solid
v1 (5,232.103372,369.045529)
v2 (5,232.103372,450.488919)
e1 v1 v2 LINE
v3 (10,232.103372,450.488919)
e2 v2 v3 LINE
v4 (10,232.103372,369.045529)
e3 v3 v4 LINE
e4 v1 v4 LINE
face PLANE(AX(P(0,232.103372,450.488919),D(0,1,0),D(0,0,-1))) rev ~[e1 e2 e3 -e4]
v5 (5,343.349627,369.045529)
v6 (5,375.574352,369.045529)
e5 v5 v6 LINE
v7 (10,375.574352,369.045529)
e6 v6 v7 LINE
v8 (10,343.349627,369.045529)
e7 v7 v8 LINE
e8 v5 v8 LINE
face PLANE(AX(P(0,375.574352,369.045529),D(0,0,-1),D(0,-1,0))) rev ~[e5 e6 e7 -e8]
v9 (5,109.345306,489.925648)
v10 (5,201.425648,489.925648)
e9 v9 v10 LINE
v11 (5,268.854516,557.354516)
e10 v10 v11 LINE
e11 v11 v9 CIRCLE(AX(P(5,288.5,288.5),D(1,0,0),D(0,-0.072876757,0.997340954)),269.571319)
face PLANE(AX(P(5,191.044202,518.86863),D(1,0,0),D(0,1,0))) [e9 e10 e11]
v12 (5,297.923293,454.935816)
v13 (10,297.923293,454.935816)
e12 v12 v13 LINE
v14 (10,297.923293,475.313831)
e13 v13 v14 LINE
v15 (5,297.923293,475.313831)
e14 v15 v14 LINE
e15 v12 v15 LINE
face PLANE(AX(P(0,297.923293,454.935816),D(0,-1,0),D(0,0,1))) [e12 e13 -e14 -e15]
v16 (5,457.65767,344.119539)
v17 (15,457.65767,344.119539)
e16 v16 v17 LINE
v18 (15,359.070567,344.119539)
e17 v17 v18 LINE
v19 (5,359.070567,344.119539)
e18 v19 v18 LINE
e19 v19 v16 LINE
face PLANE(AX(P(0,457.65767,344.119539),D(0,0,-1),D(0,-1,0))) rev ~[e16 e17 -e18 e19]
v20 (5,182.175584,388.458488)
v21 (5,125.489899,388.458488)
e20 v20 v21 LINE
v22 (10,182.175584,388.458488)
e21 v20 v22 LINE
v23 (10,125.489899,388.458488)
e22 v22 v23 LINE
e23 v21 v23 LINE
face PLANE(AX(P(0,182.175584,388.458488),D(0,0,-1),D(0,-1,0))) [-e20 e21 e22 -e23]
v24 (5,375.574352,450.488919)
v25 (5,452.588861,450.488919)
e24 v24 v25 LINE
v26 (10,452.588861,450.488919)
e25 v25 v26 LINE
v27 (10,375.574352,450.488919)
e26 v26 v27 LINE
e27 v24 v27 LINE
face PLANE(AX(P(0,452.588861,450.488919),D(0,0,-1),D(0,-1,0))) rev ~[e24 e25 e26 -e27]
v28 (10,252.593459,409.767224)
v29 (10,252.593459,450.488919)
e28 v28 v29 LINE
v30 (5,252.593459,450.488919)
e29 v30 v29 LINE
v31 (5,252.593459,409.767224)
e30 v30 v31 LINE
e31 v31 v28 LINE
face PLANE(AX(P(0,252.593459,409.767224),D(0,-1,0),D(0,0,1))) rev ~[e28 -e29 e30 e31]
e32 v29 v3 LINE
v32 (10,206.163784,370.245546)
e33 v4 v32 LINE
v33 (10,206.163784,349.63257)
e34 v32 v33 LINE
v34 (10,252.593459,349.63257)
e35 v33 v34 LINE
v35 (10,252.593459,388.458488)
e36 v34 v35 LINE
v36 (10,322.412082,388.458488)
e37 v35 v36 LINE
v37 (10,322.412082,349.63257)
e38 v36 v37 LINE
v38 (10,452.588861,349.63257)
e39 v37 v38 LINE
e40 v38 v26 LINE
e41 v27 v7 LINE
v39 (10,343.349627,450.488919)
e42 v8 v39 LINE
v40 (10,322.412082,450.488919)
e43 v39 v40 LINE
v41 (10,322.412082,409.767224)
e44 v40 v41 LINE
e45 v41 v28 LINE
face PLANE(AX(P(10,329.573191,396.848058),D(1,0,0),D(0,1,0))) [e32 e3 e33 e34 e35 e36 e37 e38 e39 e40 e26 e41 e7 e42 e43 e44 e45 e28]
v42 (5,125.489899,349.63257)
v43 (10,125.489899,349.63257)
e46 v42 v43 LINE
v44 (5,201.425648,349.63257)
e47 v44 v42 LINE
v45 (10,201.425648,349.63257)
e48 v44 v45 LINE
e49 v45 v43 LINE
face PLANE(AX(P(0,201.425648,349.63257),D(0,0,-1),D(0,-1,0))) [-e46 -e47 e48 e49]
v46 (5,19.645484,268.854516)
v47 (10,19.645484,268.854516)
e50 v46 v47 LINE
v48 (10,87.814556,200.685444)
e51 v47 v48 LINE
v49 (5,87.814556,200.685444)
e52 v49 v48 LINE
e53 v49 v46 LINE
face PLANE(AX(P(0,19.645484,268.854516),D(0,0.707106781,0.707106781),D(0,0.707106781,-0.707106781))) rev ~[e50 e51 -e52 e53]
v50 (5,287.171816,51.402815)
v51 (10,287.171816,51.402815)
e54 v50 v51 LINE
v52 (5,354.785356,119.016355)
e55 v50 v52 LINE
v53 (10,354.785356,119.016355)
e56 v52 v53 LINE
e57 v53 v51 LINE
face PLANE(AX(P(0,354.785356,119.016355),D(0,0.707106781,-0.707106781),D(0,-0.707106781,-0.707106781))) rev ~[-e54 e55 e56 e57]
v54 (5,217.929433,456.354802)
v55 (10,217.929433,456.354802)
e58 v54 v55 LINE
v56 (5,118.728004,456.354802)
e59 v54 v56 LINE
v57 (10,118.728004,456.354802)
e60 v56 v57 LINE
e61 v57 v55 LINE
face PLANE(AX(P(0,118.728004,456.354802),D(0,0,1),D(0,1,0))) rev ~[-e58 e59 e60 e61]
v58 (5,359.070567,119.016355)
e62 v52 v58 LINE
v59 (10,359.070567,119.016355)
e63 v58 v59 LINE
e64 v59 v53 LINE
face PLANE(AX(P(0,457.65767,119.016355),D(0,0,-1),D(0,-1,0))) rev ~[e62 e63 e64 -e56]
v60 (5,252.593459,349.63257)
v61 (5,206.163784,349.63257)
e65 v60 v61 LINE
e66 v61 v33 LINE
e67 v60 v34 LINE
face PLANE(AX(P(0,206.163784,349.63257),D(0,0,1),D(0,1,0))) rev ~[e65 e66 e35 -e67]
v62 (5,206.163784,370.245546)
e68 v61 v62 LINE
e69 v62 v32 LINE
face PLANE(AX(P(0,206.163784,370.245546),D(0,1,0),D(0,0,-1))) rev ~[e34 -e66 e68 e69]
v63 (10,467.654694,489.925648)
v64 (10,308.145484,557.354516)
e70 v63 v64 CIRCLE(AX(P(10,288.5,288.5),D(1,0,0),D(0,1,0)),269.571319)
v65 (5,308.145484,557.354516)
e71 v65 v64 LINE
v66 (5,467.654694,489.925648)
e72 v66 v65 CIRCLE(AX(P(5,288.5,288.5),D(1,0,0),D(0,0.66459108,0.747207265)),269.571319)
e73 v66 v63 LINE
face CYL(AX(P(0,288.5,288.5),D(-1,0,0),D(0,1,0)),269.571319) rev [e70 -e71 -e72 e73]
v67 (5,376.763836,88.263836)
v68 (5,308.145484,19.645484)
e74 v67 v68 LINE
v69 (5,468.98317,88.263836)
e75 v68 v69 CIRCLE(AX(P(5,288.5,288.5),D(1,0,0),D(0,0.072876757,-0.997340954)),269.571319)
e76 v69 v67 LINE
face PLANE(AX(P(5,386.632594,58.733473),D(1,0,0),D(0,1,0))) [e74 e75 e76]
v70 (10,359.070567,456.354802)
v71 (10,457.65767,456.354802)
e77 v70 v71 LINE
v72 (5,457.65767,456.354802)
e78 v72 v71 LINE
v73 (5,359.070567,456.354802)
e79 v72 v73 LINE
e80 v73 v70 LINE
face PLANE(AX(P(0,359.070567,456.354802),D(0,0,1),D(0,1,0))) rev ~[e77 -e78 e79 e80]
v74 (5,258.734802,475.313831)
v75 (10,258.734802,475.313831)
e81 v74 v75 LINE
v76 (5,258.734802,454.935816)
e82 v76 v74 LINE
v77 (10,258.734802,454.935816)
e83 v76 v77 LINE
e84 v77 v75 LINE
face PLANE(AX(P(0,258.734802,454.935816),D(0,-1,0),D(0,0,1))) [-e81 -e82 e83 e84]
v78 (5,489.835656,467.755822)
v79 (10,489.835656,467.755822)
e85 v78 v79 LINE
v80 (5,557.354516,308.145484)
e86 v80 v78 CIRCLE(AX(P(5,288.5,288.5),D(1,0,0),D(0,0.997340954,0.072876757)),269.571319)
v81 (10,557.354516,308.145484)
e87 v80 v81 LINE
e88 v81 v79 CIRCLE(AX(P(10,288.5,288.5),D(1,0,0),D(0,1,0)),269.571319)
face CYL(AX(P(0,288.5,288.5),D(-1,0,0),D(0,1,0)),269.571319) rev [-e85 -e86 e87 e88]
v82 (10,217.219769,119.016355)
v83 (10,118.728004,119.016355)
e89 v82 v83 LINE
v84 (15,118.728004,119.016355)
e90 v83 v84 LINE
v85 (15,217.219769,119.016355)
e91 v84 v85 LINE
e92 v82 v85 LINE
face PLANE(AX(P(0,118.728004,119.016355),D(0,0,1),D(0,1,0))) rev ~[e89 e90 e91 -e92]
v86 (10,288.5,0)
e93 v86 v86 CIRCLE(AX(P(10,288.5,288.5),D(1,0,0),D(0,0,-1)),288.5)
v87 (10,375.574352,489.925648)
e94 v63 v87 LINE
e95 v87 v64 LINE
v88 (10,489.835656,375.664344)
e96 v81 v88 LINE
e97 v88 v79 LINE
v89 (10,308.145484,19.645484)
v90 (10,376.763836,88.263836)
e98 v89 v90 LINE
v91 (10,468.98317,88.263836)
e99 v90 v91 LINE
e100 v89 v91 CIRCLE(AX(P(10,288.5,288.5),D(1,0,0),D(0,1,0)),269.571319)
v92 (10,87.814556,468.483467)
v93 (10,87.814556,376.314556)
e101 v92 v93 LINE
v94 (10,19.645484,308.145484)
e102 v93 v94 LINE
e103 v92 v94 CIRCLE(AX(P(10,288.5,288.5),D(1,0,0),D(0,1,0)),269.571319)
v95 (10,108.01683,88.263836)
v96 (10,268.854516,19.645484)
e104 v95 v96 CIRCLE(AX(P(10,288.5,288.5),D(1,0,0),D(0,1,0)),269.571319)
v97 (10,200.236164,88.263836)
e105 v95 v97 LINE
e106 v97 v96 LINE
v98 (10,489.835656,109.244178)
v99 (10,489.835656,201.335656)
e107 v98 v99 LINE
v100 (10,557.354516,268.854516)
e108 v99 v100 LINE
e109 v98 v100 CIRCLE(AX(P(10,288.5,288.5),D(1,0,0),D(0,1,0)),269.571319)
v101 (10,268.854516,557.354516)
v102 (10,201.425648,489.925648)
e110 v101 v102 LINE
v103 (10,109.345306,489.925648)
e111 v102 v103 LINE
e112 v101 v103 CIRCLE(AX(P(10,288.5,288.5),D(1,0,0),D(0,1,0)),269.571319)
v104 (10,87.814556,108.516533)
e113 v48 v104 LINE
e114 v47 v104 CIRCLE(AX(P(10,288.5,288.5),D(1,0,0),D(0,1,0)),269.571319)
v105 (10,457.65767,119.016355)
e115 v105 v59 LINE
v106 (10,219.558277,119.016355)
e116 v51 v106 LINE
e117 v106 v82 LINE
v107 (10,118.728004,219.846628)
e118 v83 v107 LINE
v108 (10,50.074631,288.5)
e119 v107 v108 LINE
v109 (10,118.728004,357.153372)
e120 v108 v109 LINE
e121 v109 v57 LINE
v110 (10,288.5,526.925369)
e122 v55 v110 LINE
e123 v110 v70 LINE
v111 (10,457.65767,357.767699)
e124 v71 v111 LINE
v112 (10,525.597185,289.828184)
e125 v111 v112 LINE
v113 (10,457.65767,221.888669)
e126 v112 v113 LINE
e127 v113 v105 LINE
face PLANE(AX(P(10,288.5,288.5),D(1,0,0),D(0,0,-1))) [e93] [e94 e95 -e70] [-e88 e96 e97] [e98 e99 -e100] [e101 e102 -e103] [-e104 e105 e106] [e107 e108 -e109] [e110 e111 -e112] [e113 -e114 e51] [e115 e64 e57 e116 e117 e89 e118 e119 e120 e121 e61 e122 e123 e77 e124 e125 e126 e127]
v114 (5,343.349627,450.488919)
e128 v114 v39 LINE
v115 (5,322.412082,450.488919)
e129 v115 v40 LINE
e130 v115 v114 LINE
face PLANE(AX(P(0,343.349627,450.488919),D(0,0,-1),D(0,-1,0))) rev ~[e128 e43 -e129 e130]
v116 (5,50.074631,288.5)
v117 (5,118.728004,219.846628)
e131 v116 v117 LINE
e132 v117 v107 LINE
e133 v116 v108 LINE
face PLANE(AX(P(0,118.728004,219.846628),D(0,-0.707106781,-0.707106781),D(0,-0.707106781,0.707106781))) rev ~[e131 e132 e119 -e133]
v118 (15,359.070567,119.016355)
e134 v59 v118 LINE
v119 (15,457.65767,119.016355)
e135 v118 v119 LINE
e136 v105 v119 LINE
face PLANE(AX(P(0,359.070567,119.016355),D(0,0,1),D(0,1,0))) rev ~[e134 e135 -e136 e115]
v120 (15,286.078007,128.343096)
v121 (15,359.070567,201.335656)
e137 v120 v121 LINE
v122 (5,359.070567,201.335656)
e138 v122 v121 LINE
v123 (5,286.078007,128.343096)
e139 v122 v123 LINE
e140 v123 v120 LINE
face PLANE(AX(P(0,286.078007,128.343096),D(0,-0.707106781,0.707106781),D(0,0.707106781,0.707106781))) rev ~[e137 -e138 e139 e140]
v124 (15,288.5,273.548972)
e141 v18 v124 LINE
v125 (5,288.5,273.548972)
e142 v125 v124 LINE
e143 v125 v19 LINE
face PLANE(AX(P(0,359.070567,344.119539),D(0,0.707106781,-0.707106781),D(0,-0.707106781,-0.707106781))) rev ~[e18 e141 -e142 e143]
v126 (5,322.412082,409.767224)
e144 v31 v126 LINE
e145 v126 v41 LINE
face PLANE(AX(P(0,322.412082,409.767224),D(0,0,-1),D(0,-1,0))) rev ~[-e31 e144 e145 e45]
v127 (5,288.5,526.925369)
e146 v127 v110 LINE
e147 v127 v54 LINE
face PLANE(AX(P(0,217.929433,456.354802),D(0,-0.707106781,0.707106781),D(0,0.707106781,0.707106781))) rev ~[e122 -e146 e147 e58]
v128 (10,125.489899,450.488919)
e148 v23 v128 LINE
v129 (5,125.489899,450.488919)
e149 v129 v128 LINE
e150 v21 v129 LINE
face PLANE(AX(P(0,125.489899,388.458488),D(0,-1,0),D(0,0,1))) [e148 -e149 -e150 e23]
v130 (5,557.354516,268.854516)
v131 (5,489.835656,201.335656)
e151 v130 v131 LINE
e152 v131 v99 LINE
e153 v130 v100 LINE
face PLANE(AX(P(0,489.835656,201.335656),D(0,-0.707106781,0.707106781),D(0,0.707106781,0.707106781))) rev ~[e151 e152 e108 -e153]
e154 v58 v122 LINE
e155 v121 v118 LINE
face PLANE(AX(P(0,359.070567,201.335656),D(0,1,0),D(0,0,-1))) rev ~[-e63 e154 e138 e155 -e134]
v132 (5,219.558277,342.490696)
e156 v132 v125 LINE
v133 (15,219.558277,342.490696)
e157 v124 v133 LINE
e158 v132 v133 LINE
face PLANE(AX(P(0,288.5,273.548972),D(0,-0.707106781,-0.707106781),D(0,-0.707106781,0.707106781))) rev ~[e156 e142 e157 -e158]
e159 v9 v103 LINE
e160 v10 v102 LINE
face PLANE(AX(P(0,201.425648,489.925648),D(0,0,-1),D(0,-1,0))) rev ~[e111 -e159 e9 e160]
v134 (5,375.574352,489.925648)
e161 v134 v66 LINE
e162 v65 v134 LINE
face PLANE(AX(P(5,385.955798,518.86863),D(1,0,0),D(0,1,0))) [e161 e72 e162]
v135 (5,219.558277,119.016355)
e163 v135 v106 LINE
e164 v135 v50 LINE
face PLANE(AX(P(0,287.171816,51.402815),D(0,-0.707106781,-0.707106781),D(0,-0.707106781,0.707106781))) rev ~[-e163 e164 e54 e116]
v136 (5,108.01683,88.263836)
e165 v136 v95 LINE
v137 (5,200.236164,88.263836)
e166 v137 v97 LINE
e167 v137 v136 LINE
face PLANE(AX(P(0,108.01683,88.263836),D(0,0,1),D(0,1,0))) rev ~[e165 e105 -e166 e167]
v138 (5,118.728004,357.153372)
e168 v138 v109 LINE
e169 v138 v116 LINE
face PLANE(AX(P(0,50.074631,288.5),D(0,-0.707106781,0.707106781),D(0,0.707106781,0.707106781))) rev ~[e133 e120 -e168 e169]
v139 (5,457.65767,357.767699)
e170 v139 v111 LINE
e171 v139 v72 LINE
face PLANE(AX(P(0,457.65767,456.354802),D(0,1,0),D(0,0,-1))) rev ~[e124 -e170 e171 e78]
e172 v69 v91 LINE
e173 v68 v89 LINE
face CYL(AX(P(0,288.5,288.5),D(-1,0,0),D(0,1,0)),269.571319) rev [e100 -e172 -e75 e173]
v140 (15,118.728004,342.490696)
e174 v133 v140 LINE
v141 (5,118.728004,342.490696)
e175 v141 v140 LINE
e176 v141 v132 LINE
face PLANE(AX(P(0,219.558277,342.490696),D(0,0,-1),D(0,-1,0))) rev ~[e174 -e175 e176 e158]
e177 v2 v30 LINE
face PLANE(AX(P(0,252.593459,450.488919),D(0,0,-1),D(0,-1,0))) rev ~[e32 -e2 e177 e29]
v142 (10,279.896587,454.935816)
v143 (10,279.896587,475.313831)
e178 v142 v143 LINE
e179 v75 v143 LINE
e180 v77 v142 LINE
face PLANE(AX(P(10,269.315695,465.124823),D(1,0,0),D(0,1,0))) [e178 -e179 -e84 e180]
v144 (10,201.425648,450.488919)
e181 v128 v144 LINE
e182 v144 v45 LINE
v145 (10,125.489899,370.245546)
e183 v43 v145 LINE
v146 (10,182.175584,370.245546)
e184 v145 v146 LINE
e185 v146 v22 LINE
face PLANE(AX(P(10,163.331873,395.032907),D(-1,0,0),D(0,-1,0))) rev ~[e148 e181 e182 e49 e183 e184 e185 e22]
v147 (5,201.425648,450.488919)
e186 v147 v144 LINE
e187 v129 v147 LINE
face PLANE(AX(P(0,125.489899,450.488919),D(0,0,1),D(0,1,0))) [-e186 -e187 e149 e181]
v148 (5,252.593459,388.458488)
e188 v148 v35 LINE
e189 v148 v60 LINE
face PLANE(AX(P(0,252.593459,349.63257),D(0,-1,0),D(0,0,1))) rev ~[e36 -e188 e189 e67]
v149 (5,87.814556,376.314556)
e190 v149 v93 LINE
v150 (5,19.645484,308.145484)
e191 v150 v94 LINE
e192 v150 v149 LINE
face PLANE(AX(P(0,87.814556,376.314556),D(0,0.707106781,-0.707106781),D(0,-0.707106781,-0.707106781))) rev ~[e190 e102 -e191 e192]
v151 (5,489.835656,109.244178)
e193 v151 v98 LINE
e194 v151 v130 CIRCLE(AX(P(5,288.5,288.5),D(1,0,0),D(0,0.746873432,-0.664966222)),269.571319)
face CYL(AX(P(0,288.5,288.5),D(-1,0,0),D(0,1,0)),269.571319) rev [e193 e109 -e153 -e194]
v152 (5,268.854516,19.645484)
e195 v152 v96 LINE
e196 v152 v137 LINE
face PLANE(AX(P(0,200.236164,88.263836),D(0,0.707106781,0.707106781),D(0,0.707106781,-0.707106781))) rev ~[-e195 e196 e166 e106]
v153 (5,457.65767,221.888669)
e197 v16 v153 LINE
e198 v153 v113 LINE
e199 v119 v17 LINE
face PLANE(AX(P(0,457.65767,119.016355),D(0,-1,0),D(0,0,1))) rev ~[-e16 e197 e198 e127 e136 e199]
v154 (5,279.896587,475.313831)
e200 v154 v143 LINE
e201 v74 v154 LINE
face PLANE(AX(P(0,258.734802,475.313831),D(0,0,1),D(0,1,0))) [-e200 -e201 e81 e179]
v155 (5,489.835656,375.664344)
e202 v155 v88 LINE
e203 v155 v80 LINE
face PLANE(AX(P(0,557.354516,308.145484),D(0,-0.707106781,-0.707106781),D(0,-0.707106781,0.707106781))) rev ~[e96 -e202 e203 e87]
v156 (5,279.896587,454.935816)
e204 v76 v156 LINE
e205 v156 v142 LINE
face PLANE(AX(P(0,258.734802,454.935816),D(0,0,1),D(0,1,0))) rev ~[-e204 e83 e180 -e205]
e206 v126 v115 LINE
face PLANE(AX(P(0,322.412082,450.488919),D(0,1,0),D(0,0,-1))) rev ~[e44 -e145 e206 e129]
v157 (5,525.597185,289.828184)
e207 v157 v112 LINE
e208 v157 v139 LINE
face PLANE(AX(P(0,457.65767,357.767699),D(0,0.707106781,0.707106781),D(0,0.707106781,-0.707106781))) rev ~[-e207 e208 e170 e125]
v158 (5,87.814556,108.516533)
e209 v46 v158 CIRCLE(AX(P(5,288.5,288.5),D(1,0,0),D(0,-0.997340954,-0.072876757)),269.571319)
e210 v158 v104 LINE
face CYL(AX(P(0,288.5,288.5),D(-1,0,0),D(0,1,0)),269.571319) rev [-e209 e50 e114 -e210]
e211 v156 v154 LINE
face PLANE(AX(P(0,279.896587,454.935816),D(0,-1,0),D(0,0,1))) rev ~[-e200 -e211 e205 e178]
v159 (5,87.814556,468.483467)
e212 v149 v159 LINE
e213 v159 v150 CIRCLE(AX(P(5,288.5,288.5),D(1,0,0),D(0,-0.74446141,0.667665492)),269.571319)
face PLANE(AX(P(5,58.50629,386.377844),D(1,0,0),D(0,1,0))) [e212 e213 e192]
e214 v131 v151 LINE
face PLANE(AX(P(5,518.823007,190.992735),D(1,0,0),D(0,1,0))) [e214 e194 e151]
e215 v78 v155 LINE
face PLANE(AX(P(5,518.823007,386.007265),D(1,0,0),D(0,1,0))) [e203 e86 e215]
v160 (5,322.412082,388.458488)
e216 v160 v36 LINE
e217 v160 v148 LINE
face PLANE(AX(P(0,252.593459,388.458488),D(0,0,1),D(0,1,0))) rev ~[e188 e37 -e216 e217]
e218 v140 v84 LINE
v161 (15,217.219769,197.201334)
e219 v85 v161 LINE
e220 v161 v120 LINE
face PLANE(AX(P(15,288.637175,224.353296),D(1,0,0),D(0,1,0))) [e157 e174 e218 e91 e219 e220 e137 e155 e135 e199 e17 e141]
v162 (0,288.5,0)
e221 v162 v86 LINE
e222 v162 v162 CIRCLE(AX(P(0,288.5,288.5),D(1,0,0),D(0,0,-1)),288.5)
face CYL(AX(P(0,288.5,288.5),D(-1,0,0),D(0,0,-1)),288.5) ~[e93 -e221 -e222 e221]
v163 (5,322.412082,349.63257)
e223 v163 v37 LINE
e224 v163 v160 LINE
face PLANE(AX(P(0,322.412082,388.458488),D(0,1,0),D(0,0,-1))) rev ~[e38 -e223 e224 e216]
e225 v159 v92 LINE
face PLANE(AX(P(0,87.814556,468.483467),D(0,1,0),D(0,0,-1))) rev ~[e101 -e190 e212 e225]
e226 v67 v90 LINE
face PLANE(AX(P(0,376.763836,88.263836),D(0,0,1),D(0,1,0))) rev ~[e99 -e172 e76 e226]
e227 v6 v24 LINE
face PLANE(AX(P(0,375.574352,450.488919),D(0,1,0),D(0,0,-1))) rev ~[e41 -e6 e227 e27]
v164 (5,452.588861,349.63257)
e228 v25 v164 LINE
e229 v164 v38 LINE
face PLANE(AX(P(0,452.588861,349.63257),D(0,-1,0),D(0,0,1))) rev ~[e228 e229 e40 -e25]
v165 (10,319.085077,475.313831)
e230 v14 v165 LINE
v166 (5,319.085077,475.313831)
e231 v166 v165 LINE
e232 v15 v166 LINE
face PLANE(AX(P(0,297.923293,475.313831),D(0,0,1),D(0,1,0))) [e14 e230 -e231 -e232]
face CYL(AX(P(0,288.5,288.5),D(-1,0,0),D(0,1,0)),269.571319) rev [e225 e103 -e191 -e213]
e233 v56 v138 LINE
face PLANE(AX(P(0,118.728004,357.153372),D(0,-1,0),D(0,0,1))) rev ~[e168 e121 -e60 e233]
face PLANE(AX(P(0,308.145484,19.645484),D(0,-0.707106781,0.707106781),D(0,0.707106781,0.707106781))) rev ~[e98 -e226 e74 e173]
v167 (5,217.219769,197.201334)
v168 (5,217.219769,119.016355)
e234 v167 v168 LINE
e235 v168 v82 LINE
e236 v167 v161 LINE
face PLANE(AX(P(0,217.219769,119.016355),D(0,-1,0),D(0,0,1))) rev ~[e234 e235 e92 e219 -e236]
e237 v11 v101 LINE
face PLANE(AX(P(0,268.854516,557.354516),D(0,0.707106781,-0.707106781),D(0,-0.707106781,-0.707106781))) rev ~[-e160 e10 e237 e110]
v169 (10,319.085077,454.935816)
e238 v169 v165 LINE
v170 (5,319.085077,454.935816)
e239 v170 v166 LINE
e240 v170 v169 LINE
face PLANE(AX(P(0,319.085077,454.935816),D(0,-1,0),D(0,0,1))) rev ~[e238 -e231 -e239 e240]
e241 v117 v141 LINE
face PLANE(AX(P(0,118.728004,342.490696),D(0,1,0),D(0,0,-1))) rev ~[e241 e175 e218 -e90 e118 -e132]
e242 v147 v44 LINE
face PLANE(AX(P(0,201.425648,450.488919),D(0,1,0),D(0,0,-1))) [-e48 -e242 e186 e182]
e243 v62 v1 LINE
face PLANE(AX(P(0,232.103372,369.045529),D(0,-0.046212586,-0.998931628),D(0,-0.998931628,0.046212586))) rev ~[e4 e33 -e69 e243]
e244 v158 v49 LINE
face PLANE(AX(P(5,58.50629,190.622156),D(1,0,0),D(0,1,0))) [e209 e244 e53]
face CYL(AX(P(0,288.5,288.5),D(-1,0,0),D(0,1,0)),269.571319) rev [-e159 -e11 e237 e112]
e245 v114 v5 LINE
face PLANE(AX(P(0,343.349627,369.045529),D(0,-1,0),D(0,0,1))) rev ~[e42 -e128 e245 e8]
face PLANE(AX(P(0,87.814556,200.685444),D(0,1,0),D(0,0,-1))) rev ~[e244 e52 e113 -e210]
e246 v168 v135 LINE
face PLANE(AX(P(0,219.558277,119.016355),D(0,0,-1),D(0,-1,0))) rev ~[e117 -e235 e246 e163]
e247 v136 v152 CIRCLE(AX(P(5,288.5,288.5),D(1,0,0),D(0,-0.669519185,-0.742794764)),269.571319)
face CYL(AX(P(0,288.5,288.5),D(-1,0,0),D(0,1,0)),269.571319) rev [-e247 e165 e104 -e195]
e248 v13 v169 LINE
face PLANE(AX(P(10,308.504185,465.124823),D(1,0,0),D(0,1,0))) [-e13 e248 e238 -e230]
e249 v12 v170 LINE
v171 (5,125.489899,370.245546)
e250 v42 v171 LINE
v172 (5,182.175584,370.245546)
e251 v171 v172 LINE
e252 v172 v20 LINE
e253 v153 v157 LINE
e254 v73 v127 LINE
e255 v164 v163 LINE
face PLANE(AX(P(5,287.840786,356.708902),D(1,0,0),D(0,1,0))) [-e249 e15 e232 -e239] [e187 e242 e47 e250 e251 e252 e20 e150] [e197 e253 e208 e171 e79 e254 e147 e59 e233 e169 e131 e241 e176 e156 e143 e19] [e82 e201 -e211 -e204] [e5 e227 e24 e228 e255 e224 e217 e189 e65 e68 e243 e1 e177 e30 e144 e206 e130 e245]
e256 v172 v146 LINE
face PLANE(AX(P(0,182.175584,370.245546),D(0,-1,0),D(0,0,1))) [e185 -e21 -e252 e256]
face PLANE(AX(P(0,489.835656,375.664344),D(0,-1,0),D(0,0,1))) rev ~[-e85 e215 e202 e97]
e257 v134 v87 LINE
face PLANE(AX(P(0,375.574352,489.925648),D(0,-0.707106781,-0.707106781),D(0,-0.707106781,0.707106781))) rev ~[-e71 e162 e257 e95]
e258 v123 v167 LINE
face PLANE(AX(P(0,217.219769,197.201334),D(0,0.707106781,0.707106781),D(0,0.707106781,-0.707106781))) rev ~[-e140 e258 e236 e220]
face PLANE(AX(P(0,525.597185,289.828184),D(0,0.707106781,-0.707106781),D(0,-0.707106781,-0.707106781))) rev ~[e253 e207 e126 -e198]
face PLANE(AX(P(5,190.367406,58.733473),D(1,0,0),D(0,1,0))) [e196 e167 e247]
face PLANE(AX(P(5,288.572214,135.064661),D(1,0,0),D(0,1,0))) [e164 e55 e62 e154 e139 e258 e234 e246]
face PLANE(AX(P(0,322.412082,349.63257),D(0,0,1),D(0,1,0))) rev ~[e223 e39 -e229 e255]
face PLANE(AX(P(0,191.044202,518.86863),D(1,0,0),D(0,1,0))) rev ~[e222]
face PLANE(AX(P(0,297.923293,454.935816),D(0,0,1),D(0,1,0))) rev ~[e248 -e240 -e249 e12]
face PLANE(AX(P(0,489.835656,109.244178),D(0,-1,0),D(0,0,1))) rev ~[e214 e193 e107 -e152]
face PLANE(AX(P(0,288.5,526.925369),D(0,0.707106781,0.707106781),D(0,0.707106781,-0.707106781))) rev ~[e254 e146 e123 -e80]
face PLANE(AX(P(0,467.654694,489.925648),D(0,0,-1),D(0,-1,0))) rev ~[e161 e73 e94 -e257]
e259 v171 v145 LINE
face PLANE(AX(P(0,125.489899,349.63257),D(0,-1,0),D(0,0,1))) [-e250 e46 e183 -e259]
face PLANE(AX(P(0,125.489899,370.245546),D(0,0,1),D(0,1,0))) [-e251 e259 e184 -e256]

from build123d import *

# Parameters (mm, degrees)
SKETCH11_R            = 288.5
BOSS_EXTRUDE7_DEPTH   = 10
BOSS_EXTRUDE7_2_DEPTH = 10
BOSS_EXTRUDE7_3_DEPTH = 10
SKETCH11_W            = 21.16178464
SKETCH11_H            = 20.378014839
BOSS_EXTRUDE7_4_DEPTH = 10
BOSS_EXTRUDE7_5_DEPTH = 10
SKETCH11_7_W          = 21.16178464
SKETCH11_7_H          = 20.378014839
BOSS_EXTRUDE8_DEPTH   = 5
BOSS_EXTRUDE9_DEPTH   = 15


with BuildPart() as part:
    # Sketch11 → Boss-Extrude7 (new body)
    with BuildSketch(Plane.YZ):
        with Locations((288.5, 288.5)):
            Circle(SKETCH11_R)
        with BuildLine():
            ThreePointArc((109.345306024, 489.925647915), (183.537908139, 536.797513648), (268.854516394, 557.354516394))
            Line((268.854516394, 557.354516394), (201.425647915, 489.925647915))
            Line((201.425647915, 489.925647915), (109.345306024, 489.925647915))
        make_face(mode=Mode.SUBTRACT)
        with BuildLine():
            ThreePointArc((19.645483606, 308.145483606), (40.419345952, 393.973622763), (87.814555723, 468.483467205))
            Line((87.814555723, 468.483467205), (87.814555723, 376.314555723))
            Line((87.814555723, 376.314555723), (19.645483606, 308.145483606))
        make_face(mode=Mode.SUBTRACT)
        with BuildLine():
            ThreePointArc((87.814555723, 108.516532795), (40.419345952, 183.026377237), (19.645483606, 268.854516394))
            Line((19.645483606, 268.854516394), (87.814555723, 200.685444277))
            Line((87.814555723, 200.685444277), (87.814555723, 108.516532795))
        make_face(mode=Mode.SUBTRACT)
        with BuildLine():
            ThreePointArc((268.854516394, 19.645483606), (182.717255503, 40.550999239), (108.016830289, 88.263835777))
            Line((108.016830289, 88.263835777), (200.236164223, 88.263835777))
            Line((200.236164223, 88.263835777), (268.854516394, 19.645483606))
        make_face(mode=Mode.SUBTRACT)
        with BuildLine():
            ThreePointArc((468.983169711, 88.263835777), (394.282744497, 40.550999239), (308.145483606, 19.645483606))
            Line((308.145483606, 19.645483606), (376.763835777, 88.263835777))
            Line((376.763835777, 88.263835777), (468.983169711, 88.263835777))
        make_face(mode=Mode.SUBTRACT)
        with BuildLine():
            ThreePointArc((557.354516394, 268.854516394), (536.771151329, 183.475567464), (489.835656115, 109.244178369))
            Line((489.835656115, 109.244178369), (489.835656115, 201.335656115))
            Line((489.835656115, 201.335656115), (557.354516394, 268.854516394))
        make_face(mode=Mode.SUBTRACT)
        with BuildLine():
            ThreePointArc((489.835656115, 467.755821631), (536.771151329, 393.524432536), (557.354516394, 308.145483606))
            Line((557.354516394, 308.145483606), (489.835656115, 375.664343885))
            Line((489.835656115, 375.664343885), (489.835656115, 467.755821631))
        make_face(mode=Mode.SUBTRACT)
        with BuildLine():
            ThreePointArc((308.145483606, 557.354516394), (393.462091861, 536.797513648), (467.654693976, 489.925647915))
            Line((467.654693976, 489.925647915), (375.574352085, 489.925647915))
            Line((375.574352085, 489.925647915), (308.145483606, 557.354516394))
        make_face(mode=Mode.SUBTRACT)
        Polygon((457.657670049, 119.01635474), (354.785355806, 119.01635474), (287.171816153, 51.402815088), (219.558276501, 119.01635474), (118.728003632, 119.01635474), (118.728003632, 219.846627609), (50.074631241, 288.5), (118.728003632, 357.153372391), (118.728003632, 456.354802066), (217.929433307, 456.354802066), (288.5, 526.925368759), (359.070566693, 456.354802066), (457.657670049, 456.354802066), (457.657670049, 357.76769871), (525.597184912, 289.828183847), (457.657670049, 221.888668984), align=None, mode=Mode.SUBTRACT)
    extrude(amount=BOSS_EXTRUDE7_DEPTH)



with BuildPart() as body_2:
    # Sketch11 → Boss-Extrude7 2 (new body)
    with BuildSketch(Plane.YZ):
        Polygon((201.425647915, 450.488919168), (125.489898595, 450.488919168), (125.489898595, 388.458487724), (182.175584131, 388.458487724), (182.175584131, 370.245546136), (125.489898595, 370.245546136), (125.489898595, 349.632569577), (201.425647915, 349.632569577), align=None)
    extrude(amount=BOSS_EXTRUDE7_2_DEPTH)


with BuildPart() as body_3:
    # Sketch11 → Boss-Extrude7 3 (new body)
    with BuildSketch(Plane.YZ):
        Polygon((232.103371973, 369.045528651), (206.163784466, 370.245546136), (206.163784466, 349.632569577), (252.593459139, 349.632569577), (252.593459139, 388.458487724), (322.412082429, 388.458487724), (322.412082429, 349.632569577), (452.588861428, 349.632569577), (452.588861428, 450.488919168), (375.574352085, 450.488919168), (375.574352085, 369.045528651), (343.349626731, 369.045528651), (343.349626731, 450.488919168), (322.412082429, 450.488919168), (322.412082429, 409.767223909), (252.593459139, 409.767223909), (252.593459139, 450.488919168), (232.103371973, 450.488919168), align=None)
    extrude(amount=BOSS_EXTRUDE7_3_DEPTH)


with BuildPart() as body_4:
    # Sketch11 → Boss-Extrude7 4 (new body)
    with BuildSketch(Plane.YZ):
        with Locations((269.315694793, 465.124823328)):
            Rectangle(SKETCH11_W, SKETCH11_H)
    extrude(amount=BOSS_EXTRUDE7_4_DEPTH)


with BuildPart() as body_5:
    # Sketch11 → Boss-Extrude7 5 (new body)
    with BuildSketch(Plane.YZ):
        with Locations((308.504184867, 465.124823328)):
            Rectangle(SKETCH11_W, SKETCH11_H)
    extrude(amount=BOSS_EXTRUDE7_5_DEPTH)


with BuildPart() as part_1:
    add(part.part)

    add(body_2.part)  # Boss-Extrude8 merges body 2

    add(body_3.part)  # Boss-Extrude8 merges body 3

    add(body_4.part)  # Boss-Extrude8 merges body 4

    add(body_5.part)  # Boss-Extrude8 merges body 5
    # Sketch11<7> → Boss-Extrude8 (add)
    # profile 1 of 10: a face of its own
    with BuildSketch(Plane.YZ):
        with BuildLine():
            Line((201.425647915, 489.925647915), (268.854516394, 557.354516394))
            ThreePointArc((268.854516394, 557.354516394), (183.537908139, 536.797513648), (109.345306024, 489.925647915))
            Line((109.345306024, 489.925647915), (201.425647915, 489.925647915))
        make_face()
    # profile 2 of 10: a face of its own
    with BuildSketch(Plane.YZ):
        with BuildLine():
            ThreePointArc((467.654693976, 489.925647915), (393.462091861, 536.797513648), (308.145483606, 557.354516394))
            Line((308.145483606, 557.354516394), (375.574352085, 489.925647915))
            Line((375.574352085, 489.925647915), (467.654693976, 489.925647915))
        make_face()
    # profile 3 of 10: a face of its own
    with BuildSketch(Plane.YZ):
        with BuildLine():
            Line((87.814555723, 376.314555723), (87.814555723, 468.483467205))
            ThreePointArc((87.814555723, 468.483467205), (40.419345952, 393.973622763), (19.645483606, 308.145483606))
            Line((19.645483606, 308.145483606), (87.814555723, 376.314555723))
        make_face()
    # profile 4 of 10: a face of its own
    with BuildSketch(Plane.YZ):
        with BuildLine():
            ThreePointArc((557.354516394, 308.145483606), (536.771151329, 393.524432536), (489.835656115, 467.755821631))
            Line((489.835656115, 467.755821631), (489.835656115, 375.664343885))
            Line((489.835656115, 375.664343885), (557.354516394, 308.145483606))
        make_face()
    # profile 5 of 10: a face of its own
    with BuildSketch(Plane.YZ):
        with BuildLine():
            Line((87.814555723, 200.685444277), (19.645483606, 268.854516394))
            ThreePointArc((19.645483606, 268.854516394), (40.419345952, 183.026377237), (87.814555723, 108.516532795))
            Line((87.814555723, 108.516532795), (87.814555723, 200.685444277))
        make_face()
    # profile 6 of 10: a face of its own
    with BuildSketch(Plane.YZ):
        with BuildLine():
            ThreePointArc((489.835656115, 109.244178369), (536.771151329, 183.475567464), (557.354516394, 268.854516394))
            Line((557.354516394, 268.854516394), (489.835656115, 201.335656115))
            Line((489.835656115, 201.335656115), (489.835656115, 109.244178369))
        make_face()
    # profile 7 of 10: a face of its own
    with BuildSketch(Plane.YZ):
        with BuildLine():
            Line((200.236164223, 88.263835777), (108.016830289, 88.263835777))
            ThreePointArc((108.016830289, 88.263835777), (182.717255503, 40.550999239), (268.854516394, 19.645483606))
            Line((268.854516394, 19.645483606), (200.236164223, 88.263835777))
        make_face()
    # profile 8 of 10: a face of its own
    with BuildSketch(Plane.YZ):
        with BuildLine():
            ThreePointArc((308.145483606, 19.645483606), (394.282744497, 40.550999239), (468.983169711, 88.263835777))
            Line((468.983169711, 88.263835777), (376.763835777, 88.263835777))
            Line((376.763835777, 88.263835777), (308.145483606, 19.645483606))
        make_face()
    # profile 9 of 10: a face of its own
    with BuildSketch(Plane.YZ):
        Polygon((217.929433307, 456.354802066), (118.728003632, 456.354802066), (118.728003632, 357.153372391), (50.074631241, 288.5), (118.728003632, 219.846627609), (118.728003632, 342.490695719), (219.558276501, 342.490695719), (288.5, 273.54897222), (359.070566693, 344.119538913), (457.657670049, 344.119538913), (457.657670049, 221.888668984), (525.597184912, 289.828183847), (457.657670049, 357.76769871), (457.657670049, 456.354802066), (359.070566693, 456.354802066), (288.5, 526.925368759), align=None)
        Polygon((125.489898595, 388.458487724), (125.489898595, 450.488919168), (201.425647915, 450.488919168), (201.425647915, 349.632569577), (125.489898595, 349.632569577), (125.489898595, 370.245546136), (182.175584131, 370.245546136), (182.175584131, 388.458487724), align=None, mode=Mode.SUBTRACT)
        with Locations((269.315694793, 465.124823328)):
            Rectangle(SKETCH11_7_W, SKETCH11_7_H, mode=Mode.SUBTRACT)
        Polygon((206.163784466, 349.632569577), (206.163784466, 370.245546136), (232.103371973, 369.045528651), (232.103371973, 450.488919168), (252.593459139, 450.488919168), (252.593459139, 409.767223909), (322.412082429, 409.767223909), (322.412082429, 450.488919168), (343.349626731, 450.488919168), (343.349626731, 369.045528651), (375.574352085, 369.045528651), (375.574352085, 450.488919168), (452.588861428, 450.488919168), (452.588861428, 349.632569577), (322.412082429, 349.632569577), (322.412082429, 388.458487724), (252.593459139, 388.458487724), (252.593459139, 349.632569577), align=None, mode=Mode.SUBTRACT)
        with Locations((308.504184867, 465.124823328)):
            Rectangle(SKETCH11_7_W, SKETCH11_7_H, mode=Mode.SUBTRACT)
    # profile 10 of 10: a face of its own
    with BuildSketch(Plane.YZ):
        Polygon((217.219769177, 197.201333657), (217.219769177, 119.01635474), (219.558276501, 119.01635474), (287.171816153, 51.402815088), (354.785355806, 119.01635474), (359.070566693, 119.01635474), (359.070566693, 201.335656115), (286.078006706, 128.343096128), align=None)
    extrude(amount=BOSS_EXTRUDE8_DEPTH)

    # Sketch11<8> → Boss-Extrude9 (add)
    with BuildSketch(Plane.YZ):
        Polygon((118.728003632, 342.490695719), (118.728003632, 219.846627609), (118.728003632, 119.01635474), (217.219769177, 119.01635474), (217.219769177, 197.201333657), (286.078006706, 128.343096128), (359.070566693, 201.335656115), (359.070566693, 119.01635474), (457.657670049, 119.01635474), (457.657670049, 221.888668984), (457.657670049, 344.119538913), (359.070566693, 344.119538913), (288.5, 273.54897222), (219.558276501, 342.490695719), align=None)
    extrude(amount=BOSS_EXTRUDE9_DEPTH)


solid = part_1.part
